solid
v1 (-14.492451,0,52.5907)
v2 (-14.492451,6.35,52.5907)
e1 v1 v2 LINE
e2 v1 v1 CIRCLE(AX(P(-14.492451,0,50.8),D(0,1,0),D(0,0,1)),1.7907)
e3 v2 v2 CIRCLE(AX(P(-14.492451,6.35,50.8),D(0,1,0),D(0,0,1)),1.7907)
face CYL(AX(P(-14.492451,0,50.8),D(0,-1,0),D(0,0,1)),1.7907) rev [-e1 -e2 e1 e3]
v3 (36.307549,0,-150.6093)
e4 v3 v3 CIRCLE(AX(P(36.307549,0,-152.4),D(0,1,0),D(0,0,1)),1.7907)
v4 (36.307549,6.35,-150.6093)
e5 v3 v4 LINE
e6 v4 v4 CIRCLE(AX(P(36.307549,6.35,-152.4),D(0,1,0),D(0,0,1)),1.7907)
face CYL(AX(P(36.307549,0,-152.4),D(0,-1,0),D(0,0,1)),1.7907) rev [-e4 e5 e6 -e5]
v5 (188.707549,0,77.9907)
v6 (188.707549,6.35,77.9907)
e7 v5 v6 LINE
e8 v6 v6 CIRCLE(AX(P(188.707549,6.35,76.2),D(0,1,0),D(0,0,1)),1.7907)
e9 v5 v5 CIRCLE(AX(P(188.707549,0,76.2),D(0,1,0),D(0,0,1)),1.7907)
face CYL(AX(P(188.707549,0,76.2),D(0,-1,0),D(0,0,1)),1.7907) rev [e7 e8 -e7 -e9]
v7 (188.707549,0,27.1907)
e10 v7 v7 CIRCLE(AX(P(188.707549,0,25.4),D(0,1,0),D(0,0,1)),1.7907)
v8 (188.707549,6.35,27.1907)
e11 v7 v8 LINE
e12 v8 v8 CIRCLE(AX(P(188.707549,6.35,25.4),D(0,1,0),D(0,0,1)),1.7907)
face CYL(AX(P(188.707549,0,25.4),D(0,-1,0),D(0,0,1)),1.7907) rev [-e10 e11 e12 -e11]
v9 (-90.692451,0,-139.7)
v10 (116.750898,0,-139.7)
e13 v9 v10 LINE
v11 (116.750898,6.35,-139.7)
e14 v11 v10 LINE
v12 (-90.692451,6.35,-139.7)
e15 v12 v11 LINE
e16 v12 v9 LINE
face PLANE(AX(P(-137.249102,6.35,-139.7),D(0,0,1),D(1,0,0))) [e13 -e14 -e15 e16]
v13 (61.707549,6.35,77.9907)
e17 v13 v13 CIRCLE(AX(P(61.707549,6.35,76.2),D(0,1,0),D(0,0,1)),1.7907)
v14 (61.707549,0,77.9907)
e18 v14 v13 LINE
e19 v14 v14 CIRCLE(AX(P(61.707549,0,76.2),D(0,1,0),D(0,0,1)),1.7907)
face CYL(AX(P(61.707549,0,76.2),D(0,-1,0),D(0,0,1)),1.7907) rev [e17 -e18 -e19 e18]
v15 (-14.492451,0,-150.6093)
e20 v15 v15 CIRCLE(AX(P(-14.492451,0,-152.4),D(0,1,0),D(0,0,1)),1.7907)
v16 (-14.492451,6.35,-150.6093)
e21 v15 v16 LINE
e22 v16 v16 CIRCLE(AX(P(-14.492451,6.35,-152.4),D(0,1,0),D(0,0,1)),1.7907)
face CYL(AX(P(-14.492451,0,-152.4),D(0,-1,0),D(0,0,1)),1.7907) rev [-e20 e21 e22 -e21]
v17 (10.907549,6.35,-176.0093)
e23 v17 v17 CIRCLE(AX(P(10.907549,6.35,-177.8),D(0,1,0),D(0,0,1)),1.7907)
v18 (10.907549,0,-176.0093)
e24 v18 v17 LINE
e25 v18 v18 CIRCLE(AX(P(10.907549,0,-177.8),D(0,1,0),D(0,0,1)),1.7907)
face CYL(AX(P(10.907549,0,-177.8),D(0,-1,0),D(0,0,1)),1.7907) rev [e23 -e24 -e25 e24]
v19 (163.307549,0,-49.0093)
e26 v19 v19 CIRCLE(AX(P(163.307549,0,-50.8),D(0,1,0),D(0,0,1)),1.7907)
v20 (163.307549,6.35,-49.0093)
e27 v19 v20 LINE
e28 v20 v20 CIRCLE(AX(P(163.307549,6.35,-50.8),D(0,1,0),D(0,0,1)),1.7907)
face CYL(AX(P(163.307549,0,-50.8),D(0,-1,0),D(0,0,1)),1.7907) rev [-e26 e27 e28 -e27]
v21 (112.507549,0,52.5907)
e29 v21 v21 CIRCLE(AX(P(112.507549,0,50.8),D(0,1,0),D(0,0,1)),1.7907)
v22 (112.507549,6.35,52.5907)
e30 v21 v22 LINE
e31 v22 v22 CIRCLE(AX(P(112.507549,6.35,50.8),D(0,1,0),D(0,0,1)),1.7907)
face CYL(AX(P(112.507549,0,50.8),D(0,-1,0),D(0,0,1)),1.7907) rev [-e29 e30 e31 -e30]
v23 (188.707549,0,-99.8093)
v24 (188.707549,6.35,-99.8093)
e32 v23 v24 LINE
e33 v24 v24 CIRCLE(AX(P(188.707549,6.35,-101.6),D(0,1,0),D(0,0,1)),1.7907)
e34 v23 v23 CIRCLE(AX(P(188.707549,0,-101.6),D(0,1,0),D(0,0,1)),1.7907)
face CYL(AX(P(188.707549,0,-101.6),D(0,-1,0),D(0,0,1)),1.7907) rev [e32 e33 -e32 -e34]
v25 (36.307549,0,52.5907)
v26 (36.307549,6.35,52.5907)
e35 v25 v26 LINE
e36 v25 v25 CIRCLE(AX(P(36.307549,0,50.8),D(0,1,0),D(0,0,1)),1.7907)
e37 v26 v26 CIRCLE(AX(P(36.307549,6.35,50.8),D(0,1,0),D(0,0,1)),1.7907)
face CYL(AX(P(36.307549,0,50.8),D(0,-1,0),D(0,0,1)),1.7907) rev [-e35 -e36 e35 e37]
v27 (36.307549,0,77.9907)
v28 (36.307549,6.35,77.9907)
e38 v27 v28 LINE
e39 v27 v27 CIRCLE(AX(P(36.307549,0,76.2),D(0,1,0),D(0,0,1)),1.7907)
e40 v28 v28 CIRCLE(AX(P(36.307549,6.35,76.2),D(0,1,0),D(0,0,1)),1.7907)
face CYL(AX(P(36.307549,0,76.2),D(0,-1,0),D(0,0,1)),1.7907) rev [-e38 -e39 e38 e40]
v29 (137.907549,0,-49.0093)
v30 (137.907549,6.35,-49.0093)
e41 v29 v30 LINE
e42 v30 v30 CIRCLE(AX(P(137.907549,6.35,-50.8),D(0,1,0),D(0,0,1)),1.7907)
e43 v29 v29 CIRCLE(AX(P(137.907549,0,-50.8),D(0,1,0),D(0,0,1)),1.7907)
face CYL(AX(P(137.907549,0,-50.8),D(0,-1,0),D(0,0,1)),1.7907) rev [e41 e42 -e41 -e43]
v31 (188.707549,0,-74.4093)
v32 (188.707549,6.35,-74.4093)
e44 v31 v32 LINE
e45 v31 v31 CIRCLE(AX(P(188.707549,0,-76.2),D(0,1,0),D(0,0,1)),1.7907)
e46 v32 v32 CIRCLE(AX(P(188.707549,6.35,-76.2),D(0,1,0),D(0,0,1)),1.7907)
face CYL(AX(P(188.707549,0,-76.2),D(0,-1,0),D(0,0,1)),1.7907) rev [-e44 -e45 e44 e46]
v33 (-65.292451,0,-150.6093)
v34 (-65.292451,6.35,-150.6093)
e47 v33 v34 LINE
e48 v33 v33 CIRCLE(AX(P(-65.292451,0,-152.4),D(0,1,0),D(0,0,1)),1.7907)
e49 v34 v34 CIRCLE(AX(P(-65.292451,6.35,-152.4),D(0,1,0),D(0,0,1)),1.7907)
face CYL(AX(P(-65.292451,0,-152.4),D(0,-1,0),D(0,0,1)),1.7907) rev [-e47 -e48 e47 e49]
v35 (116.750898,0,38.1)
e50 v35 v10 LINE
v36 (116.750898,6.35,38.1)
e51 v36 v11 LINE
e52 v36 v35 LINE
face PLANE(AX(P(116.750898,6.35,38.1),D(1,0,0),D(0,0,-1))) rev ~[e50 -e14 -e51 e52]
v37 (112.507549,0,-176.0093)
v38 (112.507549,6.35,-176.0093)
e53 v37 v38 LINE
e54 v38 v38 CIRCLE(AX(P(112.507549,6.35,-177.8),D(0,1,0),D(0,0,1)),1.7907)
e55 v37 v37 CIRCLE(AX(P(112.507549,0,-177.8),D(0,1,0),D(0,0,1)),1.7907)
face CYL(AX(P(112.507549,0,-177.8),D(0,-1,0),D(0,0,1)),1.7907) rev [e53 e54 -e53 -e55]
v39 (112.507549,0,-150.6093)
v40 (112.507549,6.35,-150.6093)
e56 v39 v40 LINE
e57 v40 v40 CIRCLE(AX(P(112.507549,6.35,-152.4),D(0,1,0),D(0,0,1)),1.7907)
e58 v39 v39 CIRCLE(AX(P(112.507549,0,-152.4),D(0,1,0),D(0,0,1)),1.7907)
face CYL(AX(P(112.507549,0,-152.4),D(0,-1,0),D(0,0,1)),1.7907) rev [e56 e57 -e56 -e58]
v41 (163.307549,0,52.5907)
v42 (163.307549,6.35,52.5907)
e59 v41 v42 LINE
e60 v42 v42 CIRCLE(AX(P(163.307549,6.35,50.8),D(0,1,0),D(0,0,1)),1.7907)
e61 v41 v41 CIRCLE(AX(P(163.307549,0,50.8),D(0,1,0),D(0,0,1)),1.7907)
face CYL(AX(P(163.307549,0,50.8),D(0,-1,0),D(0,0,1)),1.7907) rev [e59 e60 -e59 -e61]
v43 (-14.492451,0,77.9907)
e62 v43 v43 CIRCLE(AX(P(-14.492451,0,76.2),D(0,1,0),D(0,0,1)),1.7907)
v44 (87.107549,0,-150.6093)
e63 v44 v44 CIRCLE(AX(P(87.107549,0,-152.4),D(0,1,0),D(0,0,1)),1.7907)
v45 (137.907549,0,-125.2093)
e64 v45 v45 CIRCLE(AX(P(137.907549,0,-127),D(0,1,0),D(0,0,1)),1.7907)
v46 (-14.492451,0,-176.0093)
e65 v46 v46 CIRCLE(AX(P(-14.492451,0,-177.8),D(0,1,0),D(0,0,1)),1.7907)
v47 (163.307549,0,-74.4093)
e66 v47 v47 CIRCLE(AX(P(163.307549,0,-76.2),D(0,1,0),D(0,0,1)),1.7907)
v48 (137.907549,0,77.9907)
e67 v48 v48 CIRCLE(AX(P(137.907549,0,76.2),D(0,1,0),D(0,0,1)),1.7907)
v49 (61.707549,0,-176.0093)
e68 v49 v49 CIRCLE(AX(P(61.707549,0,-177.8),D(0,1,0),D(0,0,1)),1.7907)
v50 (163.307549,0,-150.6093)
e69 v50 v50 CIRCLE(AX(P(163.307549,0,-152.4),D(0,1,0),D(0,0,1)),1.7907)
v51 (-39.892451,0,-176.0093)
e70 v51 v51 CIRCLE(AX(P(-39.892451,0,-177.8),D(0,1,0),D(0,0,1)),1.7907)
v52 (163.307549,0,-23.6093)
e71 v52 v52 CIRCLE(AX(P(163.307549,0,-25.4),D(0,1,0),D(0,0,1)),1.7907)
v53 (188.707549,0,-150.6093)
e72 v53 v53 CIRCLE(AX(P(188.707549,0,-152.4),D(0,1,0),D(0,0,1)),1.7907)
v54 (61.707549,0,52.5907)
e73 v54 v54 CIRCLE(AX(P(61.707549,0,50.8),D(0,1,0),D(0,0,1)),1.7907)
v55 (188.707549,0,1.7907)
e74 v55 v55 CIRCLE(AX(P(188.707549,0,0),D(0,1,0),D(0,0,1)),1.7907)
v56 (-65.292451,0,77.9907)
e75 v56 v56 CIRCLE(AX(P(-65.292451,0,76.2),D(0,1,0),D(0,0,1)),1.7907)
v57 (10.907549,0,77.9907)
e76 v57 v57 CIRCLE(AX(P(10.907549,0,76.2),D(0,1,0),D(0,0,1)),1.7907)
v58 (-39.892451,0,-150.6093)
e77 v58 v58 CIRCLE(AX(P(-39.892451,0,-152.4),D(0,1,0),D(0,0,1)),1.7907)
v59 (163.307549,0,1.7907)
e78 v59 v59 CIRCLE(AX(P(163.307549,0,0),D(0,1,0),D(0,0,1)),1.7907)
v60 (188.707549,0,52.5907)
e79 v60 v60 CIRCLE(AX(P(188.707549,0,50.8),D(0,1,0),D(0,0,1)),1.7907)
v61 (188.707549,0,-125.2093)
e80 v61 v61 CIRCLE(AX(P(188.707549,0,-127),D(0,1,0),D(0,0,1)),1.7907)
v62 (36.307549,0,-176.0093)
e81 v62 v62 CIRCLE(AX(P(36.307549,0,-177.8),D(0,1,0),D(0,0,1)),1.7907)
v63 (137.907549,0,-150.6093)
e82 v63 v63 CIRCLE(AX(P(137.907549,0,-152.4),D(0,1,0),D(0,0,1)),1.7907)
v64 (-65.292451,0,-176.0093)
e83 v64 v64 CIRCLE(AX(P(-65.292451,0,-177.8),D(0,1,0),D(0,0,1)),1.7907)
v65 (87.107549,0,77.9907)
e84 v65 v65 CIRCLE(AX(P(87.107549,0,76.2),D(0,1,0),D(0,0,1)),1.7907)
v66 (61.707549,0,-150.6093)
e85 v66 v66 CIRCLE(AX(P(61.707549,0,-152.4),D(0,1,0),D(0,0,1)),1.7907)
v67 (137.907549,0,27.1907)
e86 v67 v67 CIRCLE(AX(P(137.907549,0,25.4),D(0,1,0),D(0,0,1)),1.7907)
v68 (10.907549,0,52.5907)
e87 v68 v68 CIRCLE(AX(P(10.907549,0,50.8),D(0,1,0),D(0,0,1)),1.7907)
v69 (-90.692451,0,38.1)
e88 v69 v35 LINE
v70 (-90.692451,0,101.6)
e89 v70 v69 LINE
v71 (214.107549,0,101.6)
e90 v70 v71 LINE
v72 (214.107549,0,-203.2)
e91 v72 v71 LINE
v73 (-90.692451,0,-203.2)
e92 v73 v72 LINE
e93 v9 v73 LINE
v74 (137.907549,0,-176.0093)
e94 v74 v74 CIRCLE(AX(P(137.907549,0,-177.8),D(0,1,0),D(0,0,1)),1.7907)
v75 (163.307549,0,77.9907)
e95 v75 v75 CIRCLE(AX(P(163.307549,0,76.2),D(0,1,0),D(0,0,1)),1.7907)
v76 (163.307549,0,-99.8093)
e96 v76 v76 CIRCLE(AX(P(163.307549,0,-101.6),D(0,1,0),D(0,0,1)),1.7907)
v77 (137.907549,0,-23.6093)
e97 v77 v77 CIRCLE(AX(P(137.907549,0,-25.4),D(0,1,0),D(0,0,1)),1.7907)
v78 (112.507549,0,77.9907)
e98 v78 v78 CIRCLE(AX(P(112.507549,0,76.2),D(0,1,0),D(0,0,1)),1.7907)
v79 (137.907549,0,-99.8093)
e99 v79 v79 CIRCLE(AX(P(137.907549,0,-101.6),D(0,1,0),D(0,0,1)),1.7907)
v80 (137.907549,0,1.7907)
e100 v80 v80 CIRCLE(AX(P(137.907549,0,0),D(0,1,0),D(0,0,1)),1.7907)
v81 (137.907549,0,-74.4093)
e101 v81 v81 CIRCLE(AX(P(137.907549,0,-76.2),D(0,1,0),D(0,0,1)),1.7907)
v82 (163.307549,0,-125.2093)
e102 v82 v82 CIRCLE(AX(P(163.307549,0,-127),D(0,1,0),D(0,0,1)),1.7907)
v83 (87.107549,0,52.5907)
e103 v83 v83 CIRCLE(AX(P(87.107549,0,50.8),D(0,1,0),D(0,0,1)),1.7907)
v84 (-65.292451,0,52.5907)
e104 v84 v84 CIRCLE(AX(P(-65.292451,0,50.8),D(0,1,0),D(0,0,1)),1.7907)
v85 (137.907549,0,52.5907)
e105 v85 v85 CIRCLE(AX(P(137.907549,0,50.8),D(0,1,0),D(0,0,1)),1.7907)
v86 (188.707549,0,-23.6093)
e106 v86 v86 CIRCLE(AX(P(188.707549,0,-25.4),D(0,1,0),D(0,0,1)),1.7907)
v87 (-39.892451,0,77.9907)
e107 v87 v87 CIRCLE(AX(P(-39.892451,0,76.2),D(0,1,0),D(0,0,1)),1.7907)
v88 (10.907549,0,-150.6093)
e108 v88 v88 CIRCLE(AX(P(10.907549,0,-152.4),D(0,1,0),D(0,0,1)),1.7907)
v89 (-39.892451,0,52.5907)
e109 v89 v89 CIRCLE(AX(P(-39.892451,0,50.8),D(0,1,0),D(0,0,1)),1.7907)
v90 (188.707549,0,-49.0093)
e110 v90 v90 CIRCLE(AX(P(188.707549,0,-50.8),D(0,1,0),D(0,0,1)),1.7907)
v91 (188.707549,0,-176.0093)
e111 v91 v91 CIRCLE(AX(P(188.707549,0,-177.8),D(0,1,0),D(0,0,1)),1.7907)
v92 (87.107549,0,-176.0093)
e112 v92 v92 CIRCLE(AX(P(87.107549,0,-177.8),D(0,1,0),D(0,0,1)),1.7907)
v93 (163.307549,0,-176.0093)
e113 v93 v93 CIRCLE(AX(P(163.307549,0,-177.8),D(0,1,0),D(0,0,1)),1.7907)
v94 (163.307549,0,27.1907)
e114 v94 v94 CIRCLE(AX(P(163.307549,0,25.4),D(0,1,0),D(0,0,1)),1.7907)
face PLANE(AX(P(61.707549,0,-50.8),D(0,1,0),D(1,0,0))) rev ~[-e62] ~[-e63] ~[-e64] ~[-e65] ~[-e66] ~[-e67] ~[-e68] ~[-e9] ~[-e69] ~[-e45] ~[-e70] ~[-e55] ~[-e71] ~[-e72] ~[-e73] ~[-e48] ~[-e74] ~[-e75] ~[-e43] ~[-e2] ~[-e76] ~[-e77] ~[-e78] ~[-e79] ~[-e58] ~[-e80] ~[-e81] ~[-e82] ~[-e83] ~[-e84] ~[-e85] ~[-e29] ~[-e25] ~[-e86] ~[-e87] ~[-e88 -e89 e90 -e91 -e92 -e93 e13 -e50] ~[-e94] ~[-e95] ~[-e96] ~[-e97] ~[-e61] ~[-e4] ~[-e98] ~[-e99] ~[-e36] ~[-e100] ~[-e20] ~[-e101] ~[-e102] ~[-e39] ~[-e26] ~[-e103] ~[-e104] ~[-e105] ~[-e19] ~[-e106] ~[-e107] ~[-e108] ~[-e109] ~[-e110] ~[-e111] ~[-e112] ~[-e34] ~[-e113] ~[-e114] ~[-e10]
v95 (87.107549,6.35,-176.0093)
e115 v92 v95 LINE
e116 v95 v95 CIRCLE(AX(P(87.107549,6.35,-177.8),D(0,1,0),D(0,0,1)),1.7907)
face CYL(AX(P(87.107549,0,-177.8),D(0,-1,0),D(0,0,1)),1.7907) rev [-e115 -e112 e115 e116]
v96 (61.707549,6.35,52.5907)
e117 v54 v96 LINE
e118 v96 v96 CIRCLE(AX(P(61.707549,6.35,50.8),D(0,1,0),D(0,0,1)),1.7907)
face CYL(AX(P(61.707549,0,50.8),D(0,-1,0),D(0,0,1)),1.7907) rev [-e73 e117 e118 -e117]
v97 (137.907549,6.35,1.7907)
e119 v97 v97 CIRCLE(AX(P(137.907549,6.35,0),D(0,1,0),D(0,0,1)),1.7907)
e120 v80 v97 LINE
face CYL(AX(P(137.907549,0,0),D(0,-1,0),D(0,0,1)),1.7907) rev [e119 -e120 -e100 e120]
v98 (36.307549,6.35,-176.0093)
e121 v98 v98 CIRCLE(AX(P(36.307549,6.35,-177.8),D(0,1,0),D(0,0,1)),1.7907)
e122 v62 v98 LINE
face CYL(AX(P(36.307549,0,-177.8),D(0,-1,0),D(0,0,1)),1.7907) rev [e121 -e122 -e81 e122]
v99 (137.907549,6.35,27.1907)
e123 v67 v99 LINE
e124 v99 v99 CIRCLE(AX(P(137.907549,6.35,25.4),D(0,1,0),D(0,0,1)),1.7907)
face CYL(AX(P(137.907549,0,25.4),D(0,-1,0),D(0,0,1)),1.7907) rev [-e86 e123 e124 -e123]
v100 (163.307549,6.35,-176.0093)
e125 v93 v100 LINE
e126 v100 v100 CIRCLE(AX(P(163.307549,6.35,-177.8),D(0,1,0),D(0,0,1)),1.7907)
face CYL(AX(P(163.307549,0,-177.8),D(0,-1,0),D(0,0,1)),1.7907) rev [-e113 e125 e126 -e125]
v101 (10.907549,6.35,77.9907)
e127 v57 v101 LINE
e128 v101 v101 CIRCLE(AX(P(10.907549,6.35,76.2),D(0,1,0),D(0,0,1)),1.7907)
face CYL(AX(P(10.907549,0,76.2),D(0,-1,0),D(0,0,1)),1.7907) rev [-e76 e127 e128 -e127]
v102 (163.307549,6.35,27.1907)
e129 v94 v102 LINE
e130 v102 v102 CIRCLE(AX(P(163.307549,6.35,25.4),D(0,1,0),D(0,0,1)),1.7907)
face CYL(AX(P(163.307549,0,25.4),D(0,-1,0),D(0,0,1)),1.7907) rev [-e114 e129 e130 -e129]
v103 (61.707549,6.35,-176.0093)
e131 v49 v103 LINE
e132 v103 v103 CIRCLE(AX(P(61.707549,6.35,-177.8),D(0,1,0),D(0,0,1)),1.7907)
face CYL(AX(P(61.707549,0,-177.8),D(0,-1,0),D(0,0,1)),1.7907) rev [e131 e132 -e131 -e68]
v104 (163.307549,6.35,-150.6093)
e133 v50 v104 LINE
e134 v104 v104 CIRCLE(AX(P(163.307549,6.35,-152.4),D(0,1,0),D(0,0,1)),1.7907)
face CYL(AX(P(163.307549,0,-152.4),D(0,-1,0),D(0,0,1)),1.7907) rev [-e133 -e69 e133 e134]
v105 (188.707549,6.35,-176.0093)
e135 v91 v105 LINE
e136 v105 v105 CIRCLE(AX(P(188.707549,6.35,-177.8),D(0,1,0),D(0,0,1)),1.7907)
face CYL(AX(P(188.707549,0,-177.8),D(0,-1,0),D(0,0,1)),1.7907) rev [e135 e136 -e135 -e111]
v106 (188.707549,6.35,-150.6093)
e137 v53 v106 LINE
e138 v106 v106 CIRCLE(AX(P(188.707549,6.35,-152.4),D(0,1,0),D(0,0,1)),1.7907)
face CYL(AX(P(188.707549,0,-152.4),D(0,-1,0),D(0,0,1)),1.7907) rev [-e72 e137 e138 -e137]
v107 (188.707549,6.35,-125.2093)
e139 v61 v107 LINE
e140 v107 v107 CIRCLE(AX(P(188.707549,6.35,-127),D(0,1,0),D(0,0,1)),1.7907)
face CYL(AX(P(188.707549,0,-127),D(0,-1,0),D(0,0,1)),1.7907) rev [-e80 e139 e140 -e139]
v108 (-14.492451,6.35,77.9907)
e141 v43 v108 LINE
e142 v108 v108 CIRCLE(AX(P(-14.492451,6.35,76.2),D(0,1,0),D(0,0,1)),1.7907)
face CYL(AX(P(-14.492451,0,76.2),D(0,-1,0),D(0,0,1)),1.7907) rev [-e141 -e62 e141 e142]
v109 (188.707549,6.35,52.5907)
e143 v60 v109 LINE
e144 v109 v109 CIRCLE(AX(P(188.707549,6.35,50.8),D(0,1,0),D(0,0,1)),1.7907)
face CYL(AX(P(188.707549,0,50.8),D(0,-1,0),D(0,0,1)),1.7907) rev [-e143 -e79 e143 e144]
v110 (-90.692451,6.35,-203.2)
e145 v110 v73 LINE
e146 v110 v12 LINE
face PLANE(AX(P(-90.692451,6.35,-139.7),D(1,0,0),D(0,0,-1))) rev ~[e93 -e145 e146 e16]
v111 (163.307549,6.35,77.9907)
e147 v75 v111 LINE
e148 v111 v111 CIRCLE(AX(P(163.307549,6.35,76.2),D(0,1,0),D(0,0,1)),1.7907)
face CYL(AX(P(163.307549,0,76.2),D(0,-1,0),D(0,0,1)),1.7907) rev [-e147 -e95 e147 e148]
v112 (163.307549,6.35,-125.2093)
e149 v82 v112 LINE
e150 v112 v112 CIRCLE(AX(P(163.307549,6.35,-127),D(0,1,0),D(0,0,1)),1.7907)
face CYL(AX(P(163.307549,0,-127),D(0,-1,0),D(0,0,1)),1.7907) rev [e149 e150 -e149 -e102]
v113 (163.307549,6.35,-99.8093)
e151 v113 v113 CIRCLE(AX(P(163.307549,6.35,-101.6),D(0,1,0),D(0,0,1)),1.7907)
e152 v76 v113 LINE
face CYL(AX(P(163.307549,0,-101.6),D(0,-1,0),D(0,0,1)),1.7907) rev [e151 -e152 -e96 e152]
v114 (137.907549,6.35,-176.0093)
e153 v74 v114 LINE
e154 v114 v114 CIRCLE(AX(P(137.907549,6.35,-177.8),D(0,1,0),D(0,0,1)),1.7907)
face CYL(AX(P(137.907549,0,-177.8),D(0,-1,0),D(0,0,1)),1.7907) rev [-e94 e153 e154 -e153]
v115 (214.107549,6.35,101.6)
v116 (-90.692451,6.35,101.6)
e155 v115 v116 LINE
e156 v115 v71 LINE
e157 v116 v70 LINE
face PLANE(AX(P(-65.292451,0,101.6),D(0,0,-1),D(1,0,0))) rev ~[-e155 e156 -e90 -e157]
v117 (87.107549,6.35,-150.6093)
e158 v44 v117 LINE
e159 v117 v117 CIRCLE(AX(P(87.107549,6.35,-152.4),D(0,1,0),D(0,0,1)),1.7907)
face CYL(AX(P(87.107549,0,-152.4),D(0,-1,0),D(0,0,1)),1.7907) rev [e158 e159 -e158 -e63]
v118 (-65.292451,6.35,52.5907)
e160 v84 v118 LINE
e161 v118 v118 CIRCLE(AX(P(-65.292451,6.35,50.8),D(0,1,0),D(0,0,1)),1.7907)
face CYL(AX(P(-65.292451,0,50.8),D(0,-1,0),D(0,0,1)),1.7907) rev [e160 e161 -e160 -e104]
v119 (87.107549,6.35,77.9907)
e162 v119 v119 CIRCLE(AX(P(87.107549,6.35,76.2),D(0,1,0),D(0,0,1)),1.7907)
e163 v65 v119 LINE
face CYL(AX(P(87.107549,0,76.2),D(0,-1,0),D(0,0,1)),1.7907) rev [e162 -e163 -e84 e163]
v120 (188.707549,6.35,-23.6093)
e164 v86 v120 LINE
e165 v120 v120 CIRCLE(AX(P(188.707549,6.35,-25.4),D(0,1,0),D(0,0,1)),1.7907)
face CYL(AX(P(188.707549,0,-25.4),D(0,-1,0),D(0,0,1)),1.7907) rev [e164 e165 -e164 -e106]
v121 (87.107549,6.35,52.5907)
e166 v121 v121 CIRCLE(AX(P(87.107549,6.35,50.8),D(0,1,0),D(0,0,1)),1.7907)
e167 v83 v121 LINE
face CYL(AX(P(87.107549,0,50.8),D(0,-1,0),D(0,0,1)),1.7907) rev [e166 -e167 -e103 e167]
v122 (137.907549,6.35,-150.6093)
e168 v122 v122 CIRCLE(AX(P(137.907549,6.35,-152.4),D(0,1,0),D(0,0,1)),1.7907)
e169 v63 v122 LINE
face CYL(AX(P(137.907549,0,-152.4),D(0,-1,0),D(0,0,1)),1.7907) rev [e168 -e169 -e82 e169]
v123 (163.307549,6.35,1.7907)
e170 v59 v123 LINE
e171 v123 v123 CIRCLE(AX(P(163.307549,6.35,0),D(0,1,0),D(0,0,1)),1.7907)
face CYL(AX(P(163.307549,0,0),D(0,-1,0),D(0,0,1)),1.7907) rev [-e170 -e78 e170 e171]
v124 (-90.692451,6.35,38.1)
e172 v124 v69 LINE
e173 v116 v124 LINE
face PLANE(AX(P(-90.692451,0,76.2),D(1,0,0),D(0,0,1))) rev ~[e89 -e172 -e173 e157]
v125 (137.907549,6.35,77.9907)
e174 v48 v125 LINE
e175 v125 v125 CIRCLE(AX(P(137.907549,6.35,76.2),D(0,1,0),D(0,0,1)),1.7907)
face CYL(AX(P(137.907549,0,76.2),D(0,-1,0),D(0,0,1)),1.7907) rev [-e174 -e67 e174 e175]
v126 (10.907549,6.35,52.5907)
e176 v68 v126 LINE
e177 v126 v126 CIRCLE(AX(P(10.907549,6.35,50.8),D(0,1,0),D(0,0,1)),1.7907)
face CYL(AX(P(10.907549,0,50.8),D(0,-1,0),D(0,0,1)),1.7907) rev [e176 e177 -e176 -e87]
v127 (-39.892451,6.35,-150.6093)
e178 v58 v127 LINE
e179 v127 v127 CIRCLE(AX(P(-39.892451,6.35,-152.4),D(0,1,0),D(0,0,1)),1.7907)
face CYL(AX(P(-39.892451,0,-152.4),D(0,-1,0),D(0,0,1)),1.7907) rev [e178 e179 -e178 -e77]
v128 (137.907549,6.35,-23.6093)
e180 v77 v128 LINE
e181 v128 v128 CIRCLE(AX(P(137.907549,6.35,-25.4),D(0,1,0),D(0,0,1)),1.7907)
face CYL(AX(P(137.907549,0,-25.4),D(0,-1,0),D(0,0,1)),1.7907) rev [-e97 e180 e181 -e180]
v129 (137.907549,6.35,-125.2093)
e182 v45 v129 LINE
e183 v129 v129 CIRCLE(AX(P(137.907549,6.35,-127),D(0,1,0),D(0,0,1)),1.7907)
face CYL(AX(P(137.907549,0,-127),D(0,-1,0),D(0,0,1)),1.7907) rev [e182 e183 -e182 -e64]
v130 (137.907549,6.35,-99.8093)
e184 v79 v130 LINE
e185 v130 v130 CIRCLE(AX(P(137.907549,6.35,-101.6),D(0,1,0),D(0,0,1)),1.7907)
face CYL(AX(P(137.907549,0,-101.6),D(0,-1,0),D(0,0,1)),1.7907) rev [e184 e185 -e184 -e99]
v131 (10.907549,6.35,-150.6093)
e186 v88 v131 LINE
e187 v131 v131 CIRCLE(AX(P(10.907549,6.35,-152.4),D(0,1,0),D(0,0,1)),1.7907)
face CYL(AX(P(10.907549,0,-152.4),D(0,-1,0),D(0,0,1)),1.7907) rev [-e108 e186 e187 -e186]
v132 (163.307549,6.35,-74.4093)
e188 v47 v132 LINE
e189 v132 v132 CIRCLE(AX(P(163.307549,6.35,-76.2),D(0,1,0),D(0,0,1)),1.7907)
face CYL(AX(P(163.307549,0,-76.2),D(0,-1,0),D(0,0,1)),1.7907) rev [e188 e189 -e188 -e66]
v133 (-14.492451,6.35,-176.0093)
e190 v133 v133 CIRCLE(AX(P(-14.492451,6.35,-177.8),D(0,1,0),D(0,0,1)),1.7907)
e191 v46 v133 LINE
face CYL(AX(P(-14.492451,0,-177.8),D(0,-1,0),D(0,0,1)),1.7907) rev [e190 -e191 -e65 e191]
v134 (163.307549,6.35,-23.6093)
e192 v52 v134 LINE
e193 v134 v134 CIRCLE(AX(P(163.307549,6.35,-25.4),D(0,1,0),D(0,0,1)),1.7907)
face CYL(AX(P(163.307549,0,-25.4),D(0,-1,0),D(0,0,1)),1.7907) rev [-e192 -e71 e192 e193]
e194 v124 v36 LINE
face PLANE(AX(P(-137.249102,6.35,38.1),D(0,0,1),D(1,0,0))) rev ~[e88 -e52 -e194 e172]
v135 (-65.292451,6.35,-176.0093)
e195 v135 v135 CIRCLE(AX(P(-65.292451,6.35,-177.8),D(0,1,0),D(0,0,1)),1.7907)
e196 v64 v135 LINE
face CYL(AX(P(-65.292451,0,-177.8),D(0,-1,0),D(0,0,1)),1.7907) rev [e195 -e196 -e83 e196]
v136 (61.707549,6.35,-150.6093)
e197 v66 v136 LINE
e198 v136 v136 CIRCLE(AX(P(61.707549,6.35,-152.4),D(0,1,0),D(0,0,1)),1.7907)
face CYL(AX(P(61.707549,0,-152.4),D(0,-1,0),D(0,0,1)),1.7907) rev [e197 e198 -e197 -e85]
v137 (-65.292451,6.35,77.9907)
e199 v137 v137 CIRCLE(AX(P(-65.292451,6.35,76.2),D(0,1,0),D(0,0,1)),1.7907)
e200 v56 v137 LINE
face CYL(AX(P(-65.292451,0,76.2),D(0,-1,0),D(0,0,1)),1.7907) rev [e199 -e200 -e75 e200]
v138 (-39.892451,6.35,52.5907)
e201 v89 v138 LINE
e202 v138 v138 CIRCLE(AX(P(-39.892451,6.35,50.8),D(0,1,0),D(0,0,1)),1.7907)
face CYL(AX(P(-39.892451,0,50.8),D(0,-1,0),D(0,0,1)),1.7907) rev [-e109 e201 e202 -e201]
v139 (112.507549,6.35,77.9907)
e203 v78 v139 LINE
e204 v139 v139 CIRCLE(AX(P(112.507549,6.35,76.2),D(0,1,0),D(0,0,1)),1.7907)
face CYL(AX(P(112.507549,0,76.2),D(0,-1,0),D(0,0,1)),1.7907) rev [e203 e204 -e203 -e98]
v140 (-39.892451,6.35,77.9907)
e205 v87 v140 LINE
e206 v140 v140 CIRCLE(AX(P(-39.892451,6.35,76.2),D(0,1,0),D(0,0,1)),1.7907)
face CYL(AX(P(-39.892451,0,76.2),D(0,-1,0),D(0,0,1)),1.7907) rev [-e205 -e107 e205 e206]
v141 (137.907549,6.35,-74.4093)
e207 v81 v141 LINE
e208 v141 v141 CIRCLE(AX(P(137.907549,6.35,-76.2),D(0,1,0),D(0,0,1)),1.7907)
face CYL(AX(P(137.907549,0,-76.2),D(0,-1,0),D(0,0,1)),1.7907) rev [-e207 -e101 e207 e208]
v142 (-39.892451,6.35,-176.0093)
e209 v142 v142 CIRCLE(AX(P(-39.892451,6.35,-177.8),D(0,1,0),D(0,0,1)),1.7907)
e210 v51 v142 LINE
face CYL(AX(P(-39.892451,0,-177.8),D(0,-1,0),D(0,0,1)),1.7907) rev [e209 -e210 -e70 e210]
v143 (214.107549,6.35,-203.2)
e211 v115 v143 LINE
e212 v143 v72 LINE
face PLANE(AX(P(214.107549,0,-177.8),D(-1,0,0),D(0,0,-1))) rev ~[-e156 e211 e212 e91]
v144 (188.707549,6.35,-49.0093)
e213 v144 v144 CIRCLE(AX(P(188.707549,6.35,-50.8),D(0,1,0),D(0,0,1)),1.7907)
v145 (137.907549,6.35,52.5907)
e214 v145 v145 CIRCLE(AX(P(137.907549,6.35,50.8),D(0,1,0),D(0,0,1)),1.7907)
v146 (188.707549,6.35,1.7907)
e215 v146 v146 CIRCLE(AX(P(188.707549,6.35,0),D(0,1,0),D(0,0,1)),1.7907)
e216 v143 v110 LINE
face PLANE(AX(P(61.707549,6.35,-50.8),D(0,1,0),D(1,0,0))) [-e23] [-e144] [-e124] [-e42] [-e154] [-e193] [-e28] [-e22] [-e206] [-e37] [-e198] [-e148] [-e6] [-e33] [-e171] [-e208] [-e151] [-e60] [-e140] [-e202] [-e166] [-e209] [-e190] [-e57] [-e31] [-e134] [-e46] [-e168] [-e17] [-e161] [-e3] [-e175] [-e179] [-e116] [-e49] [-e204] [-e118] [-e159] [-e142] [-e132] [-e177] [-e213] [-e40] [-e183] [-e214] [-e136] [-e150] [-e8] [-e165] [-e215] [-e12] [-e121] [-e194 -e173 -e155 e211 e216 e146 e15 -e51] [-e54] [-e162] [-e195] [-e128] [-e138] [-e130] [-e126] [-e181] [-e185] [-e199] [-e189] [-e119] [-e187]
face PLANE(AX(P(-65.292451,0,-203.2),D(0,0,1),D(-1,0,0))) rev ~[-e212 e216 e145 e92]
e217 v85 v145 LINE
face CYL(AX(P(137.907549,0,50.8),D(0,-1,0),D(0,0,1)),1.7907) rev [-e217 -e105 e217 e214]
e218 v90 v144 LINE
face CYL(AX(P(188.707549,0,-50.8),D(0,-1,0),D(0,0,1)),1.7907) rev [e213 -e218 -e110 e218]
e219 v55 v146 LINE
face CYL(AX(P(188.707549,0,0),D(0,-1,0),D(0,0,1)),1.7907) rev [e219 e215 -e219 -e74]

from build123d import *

# Parameters (mm, degrees)
SKETCH1_R           = 1.7907
BOSS_EXTRUDE1_DEPTH = 6.35
SKETCH2_W           = 254
SKETCH2_H           = 177.8
SKETCH2_W_2         = 311.15
SKETCH2_H_2         = 6.35
SKETCH2_W_3         = 6.35
SKETCH2_H_3         = 279.4
SKETCH2_W_4         = 279.4
CUT_EXTRUDE2_DEPTH  = 305.225337561
SKETCH3_W           = 6.35
SKETCH3_H           = 63.5
SKETCH3_H_2         = 25.4
CUT_EXTRUDE3_DEPTH  = 296.250072208


with BuildPart() as part:
    # Sketch1 → Boss-Extrude1 (new body)
    with BuildSketch(Plane(origin=(0, 0, 0), x_dir=(1, 0, 0), z_dir=(0, 1, 0))):
        Polygon((-65.292450766, -101.6), (-39.892450766, -101.6), (-39.892450766, -107.95), (-14.492450766, -107.95), (-14.492450766, -101.6), (10.907549234, -101.6), (10.907549234, -107.95), (36.307549234, -107.95), (36.307549234, -101.6), (61.707549234, -101.6), (61.707549234, -107.95), (87.107549234, -107.95), (87.107549234, -101.6), (112.507549234, -101.6), (112.507549234, -107.95), (137.907549234, -107.95), (137.907549234, -101.6), (163.307549234, -101.6), (163.307549234, -107.95), (188.707549234, -107.95), (188.707549234, -101.6), (220.457549234, -101.6), (220.457549234, -76.2), (214.107549234, -76.2), (214.107549234, -50.8), (220.457549234, -50.8), (220.457549234, -25.4), (214.107549234, -25.4), (214.107549234, 0), (220.457549234, 0), (220.457549234, 25.4), (214.107549234, 25.4), (214.107549234, 50.8), (220.457549234, 50.8), (220.457549234, 76.2), (214.107549234, 76.2), (214.107549234, 101.6), (220.457549234, 101.6), (220.457549234, 127), (214.107549234, 127), (214.107549234, 152.4), (220.457549234, 152.4), (220.457549234, 177.8), (214.107549234, 177.8), (214.107549234, 209.55), (188.707549234, 209.55), (188.707549234, 203.2), (163.307549234, 203.2), (163.307549234, 209.55), (137.907549234, 209.55), (137.907549234, 203.2), (112.507549234, 203.2), (112.507549234, 209.55), (87.107549234, 209.55), (87.107549234, 203.2), (61.707549234, 203.2), (61.707549234, 209.55), (36.307549234, 209.55), (36.307549234, 203.2), (10.907549234, 203.2), (10.907549234, 209.55), (-14.492450766, 209.55), (-14.492450766, 203.2), (-39.892450766, 203.2), (-39.892450766, 209.55), (-65.292450766, 209.55), (-65.292450766, 203.2), (-97.042450766, 203.2), (-97.042450766, 177.8), (-90.692450766, 177.8), (-90.692450766, 152.4), (-97.042450766, 152.4), (-97.042450766, 127), (-90.692450766, 127), (-90.692450766, 101.6), (-97.042450766, 101.6), (-97.042450766, 76.2), (-90.692450766, 76.2), (-90.692450766, 50.8), (-97.042450766, 50.8), (-97.042450766, 25.4), (-90.692450766, 25.4), (-90.692450766, 0), (-97.042450766, 0), (-97.042450766, -25.4), (-90.692450766, -25.4), (-90.692450766, -50.8), (-97.042450766, -50.8), (-97.042450766, -76.2), (-90.692450766, -76.2), (-90.692450766, -107.95), (-65.292450766, -107.95), align=None)
        with Locations(Location((-65.292450766, -76.2, 0), (0, 0, 270))):
            Circle(SKETCH1_R, mode=Mode.SUBTRACT)
        with Locations(Location((-39.892450766, -76.2, 0), (0, 0, 270))):
            Circle(SKETCH1_R, mode=Mode.SUBTRACT)
        with Locations(Location((-14.492450766, -76.2, 0), (0, 0, 270))):
            Circle(SKETCH1_R, mode=Mode.SUBTRACT)
        with Locations(Location((10.907549234, -76.2, 0), (0, 0, 270))):
            Circle(SKETCH1_R, mode=Mode.SUBTRACT)
        with Locations(Location((36.307549234, -76.2, 0), (0, 0, 270))):
            Circle(SKETCH1_R, mode=Mode.SUBTRACT)
        with Locations(Location((61.707549234, -76.2, 0), (0, 0, 270))):
            Circle(SKETCH1_R, mode=Mode.SUBTRACT)
        with Locations(Location((87.107549234, -76.2, 0), (0, 0, 270))):
            Circle(SKETCH1_R, mode=Mode.SUBTRACT)
        with Locations(Location((112.507549234, -76.2, 0), (0, 0, 270))):
            Circle(SKETCH1_R, mode=Mode.SUBTRACT)
        with Locations(Location((137.907549234, -76.2, 0), (0, 0, 270))):
            Circle(SKETCH1_R, mode=Mode.SUBTRACT)
        with Locations(Location((163.307549234, -76.2, 0), (0, 0, 270))):
            Circle(SKETCH1_R, mode=Mode.SUBTRACT)
        with Locations(Location((188.707549234, -76.2, 0), (0, 0, 270))):
            Circle(SKETCH1_R, mode=Mode.SUBTRACT)
        with Locations(Location((-65.292450766, -50.8, 0), (0, 0, 270))):
            Circle(SKETCH1_R, mode=Mode.SUBTRACT)
        with Locations(Location((-65.292450766, -25.4, 0), (0, 0, 270))):
            Circle(SKETCH1_R, mode=Mode.SUBTRACT)
        with Locations(Location((-65.292450766, 0, 0), (0, 0, 270))):
            Circle(SKETCH1_R, mode=Mode.SUBTRACT)
        with Locations(Location((-65.292450766, 25.4, 0), (0, 0, 270))):
            Circle(SKETCH1_R, mode=Mode.SUBTRACT)
        with Locations(Location((-65.292450766, 50.8, 0), (0, 0, 270))):
            Circle(SKETCH1_R, mode=Mode.SUBTRACT)
        with Locations(Location((-65.292450766, 76.2, 0), (0, 0, 270))):
            Circle(SKETCH1_R, mode=Mode.SUBTRACT)
        with Locations(Location((-65.292450766, 101.6, 0), (0, 0, 270))):
            Circle(SKETCH1_R, mode=Mode.SUBTRACT)
        with Locations(Location((-65.292450766, 127, 0), (0, 0, 270))):
            Circle(SKETCH1_R, mode=Mode.SUBTRACT)
        with Locations(Location((-65.292450766, 152.4, 0), (0, 0, 270))):
            Circle(SKETCH1_R, mode=Mode.SUBTRACT)
        with Locations(Location((-65.292450766, 177.8, 0), (0, 0, 270))):
            Circle(SKETCH1_R, mode=Mode.SUBTRACT)
        with Locations(Location((-39.892450766, -50.8, 0), (0, 0, 270))):
            Circle(SKETCH1_R, mode=Mode.SUBTRACT)
        with Locations(Location((-14.492450766, -50.8, 0), (0, 0, 270))):
            Circle(SKETCH1_R, mode=Mode.SUBTRACT)
        with Locations(Location((10.907549234, -50.8, 0), (0, 0, 270))):
            Circle(SKETCH1_R, mode=Mode.SUBTRACT)
        with Locations(Location((36.307549234, -50.8, 0), (0, 0, 270))):
            Circle(SKETCH1_R, mode=Mode.SUBTRACT)
        with Locations(Location((61.707549234, -50.8, 0), (0, 0, 270))):
            Circle(SKETCH1_R, mode=Mode.SUBTRACT)
        with Locations(Location((87.107549234, -50.8, 0), (0, 0, 270))):
            Circle(SKETCH1_R, mode=Mode.SUBTRACT)
        with Locations(Location((112.507549234, -50.8, 0), (0, 0, 270))):
            Circle(SKETCH1_R, mode=Mode.SUBTRACT)
        with Locations(Location((137.907549234, -50.8, 0), (0, 0, 270))):
            Circle(SKETCH1_R, mode=Mode.SUBTRACT)
        with Locations(Location((163.307549234, -50.8, 0), (0, 0, 270))):
            Circle(SKETCH1_R, mode=Mode.SUBTRACT)
        with Locations(Location((188.707549234, -50.8, 0), (0, 0, 270))):
            Circle(SKETCH1_R, mode=Mode.SUBTRACT)
        with Locations(Location((-39.892450766, -25.4, 0), (0, 0, 270))):
            Circle(SKETCH1_R, mode=Mode.SUBTRACT)
        with Locations(Location((-14.492450766, -25.4, 0), (0, 0, 270))):
            Circle(SKETCH1_R, mode=Mode.SUBTRACT)
        with Locations(Location((10.907549234, -25.4, 0), (0, 0, 270))):
            Circle(SKETCH1_R, mode=Mode.SUBTRACT)
        with Locations(Location((36.307549234, -25.4, 0), (0, 0, 270))):
            Circle(SKETCH1_R, mode=Mode.SUBTRACT)
        with Locations(Location((61.707549234, -25.4, 0), (0, 0, 270))):
            Circle(SKETCH1_R, mode=Mode.SUBTRACT)
        with Locations(Location((87.107549234, -25.4, 0), (0, 0, 270))):
            Circle(SKETCH1_R, mode=Mode.SUBTRACT)
        with Locations(Location((112.507549234, -25.4, 0), (0, 0, 270))):
            Circle(SKETCH1_R, mode=Mode.SUBTRACT)
        with Locations(Location((137.907549234, -25.4, 0), (0, 0, 270))):
            Circle(SKETCH1_R, mode=Mode.SUBTRACT)
        with Locations(Location((163.307549234, -25.4, 0), (0, 0, 270))):
            Circle(SKETCH1_R, mode=Mode.SUBTRACT)
        with Locations(Location((188.707549234, -25.4, 0), (0, 0, 270))):
            Circle(SKETCH1_R, mode=Mode.SUBTRACT)
        with Locations(Location((-39.892450766, 0, 0), (0, 0, 270))):
            Circle(SKETCH1_R, mode=Mode.SUBTRACT)
        with Locations(Location((-14.492450766, 0, 0), (0, 0, 270))):
            Circle(SKETCH1_R, mode=Mode.SUBTRACT)
        with Locations(Location((10.907549234, 0, 0), (0, 0, 270))):
            Circle(SKETCH1_R, mode=Mode.SUBTRACT)
        with Locations(Location((36.307549234, 0, 0), (0, 0, 270))):
            Circle(SKETCH1_R, mode=Mode.SUBTRACT)
        with Locations(Location((61.707549234, 0, 0), (0, 0, 270))):
            Circle(SKETCH1_R, mode=Mode.SUBTRACT)
        with Locations(Location((87.107549234, 0, 0), (0, 0, 270))):
            Circle(SKETCH1_R, mode=Mode.SUBTRACT)
        with Locations(Location((112.507549234, 0, 0), (0, 0, 270))):
            Circle(SKETCH1_R, mode=Mode.SUBTRACT)
        with Locations(Location((137.907549234, 0, 0), (0, 0, 270))):
            Circle(SKETCH1_R, mode=Mode.SUBTRACT)
        with Locations(Location((163.307549234, 0, 0), (0, 0, 270))):
            Circle(SKETCH1_R, mode=Mode.SUBTRACT)
        with Locations(Location((188.707549234, 0, 0), (0, 0, 270))):
            Circle(SKETCH1_R, mode=Mode.SUBTRACT)
        with Locations(Location((-39.892450766, 25.4, 0), (0, 0, 270))):
            Circle(SKETCH1_R, mode=Mode.SUBTRACT)
        with Locations(Location((-14.492450766, 25.4, 0), (0, 0, 270))):
            Circle(SKETCH1_R, mode=Mode.SUBTRACT)
        with Locations(Location((10.907549234, 25.4, 0), (0, 0, 270))):
            Circle(SKETCH1_R, mode=Mode.SUBTRACT)
        with Locations(Location((36.307549234, 25.4, 0), (0, 0, 270))):
            Circle(SKETCH1_R, mode=Mode.SUBTRACT)
        with Locations(Location((61.707549234, 25.4, 0), (0, 0, 270))):
            Circle(SKETCH1_R, mode=Mode.SUBTRACT)
        with Locations(Location((87.107549234, 25.4, 0), (0, 0, 270))):
            Circle(SKETCH1_R, mode=Mode.SUBTRACT)
        with Locations(Location((112.507549234, 25.4, 0), (0, 0, 270))):
            Circle(SKETCH1_R, mode=Mode.SUBTRACT)
        with Locations(Location((137.907549234, 25.4, 0), (0, 0, 270))):
            Circle(SKETCH1_R, mode=Mode.SUBTRACT)
        with Locations(Location((163.307549234, 25.4, 0), (0, 0, 270))):
            Circle(SKETCH1_R, mode=Mode.SUBTRACT)
        with Locations(Location((188.707549234, 25.4, 0), (0, 0, 270))):
            Circle(SKETCH1_R, mode=Mode.SUBTRACT)
        with Locations(Location((-39.892450766, 50.8, 0), (0, 0, 270))):
            Circle(SKETCH1_R, mode=Mode.SUBTRACT)
        with Locations(Location((-14.492450766, 50.8, 0), (0, 0, 270))):
            Circle(SKETCH1_R, mode=Mode.SUBTRACT)
        with Locations(Location((10.907549234, 50.8, 0), (0, 0, 270))):
            Circle(SKETCH1_R, mode=Mode.SUBTRACT)
        with Locations(Location((36.307549234, 50.8, 0), (0, 0, 270))):
            Circle(SKETCH1_R, mode=Mode.SUBTRACT)
        with Locations(Location((61.707549234, 50.8, 0), (0, 0, 270))):
            Circle(SKETCH1_R, mode=Mode.SUBTRACT)
        with Locations(Location((87.107549234, 50.8, 0), (0, 0, 270))):
            Circle(SKETCH1_R, mode=Mode.SUBTRACT)
        with Locations(Location((112.507549234, 50.8, 0), (0, 0, 270))):
            Circle(SKETCH1_R, mode=Mode.SUBTRACT)
        with Locations(Location((137.907549234, 50.8, 0), (0, 0, 270))):
            Circle(SKETCH1_R, mode=Mode.SUBTRACT)
        with Locations(Location((163.307549234, 50.8, 0), (0, 0, 270))):
            Circle(SKETCH1_R, mode=Mode.SUBTRACT)
        with Locations(Location((188.707549234, 50.8, 0), (0, 0, 270))):
            Circle(SKETCH1_R, mode=Mode.SUBTRACT)
        with Locations(Location((-39.892450766, 76.2, 0), (0, 0, 270))):
            Circle(SKETCH1_R, mode=Mode.SUBTRACT)
        with Locations(Location((-14.492450766, 76.2, 0), (0, 0, 270))):
            Circle(SKETCH1_R, mode=Mode.SUBTRACT)
        with Locations(Location((10.907549234, 76.2, 0), (0, 0, 270))):
            Circle(SKETCH1_R, mode=Mode.SUBTRACT)
        with Locations(Location((36.307549234, 76.2, 0), (0, 0, 270))):
            Circle(SKETCH1_R, mode=Mode.SUBTRACT)
        with Locations(Location((61.707549234, 76.2, 0), (0, 0, 270))):
            Circle(SKETCH1_R, mode=Mode.SUBTRACT)
        with Locations(Location((87.107549234, 76.2, 0), (0, 0, 270))):
            Circle(SKETCH1_R, mode=Mode.SUBTRACT)
        with Locations(Location((112.507549234, 76.2, 0), (0, 0, 270))):
            Circle(SKETCH1_R, mode=Mode.SUBTRACT)
        with Locations(Location((137.907549234, 76.2, 0), (0, 0, 270))):
            Circle(SKETCH1_R, mode=Mode.SUBTRACT)
        with Locations(Location((163.307549234, 76.2, 0), (0, 0, 270))):
            Circle(SKETCH1_R, mode=Mode.SUBTRACT)
        with Locations(Location((188.707549234, 76.2, 0), (0, 0, 270))):
            Circle(SKETCH1_R, mode=Mode.SUBTRACT)
        with Locations(Location((-39.892450766, 101.6, 0), (0, 0, 270))):
            Circle(SKETCH1_R, mode=Mode.SUBTRACT)
        with Locations(Location((-14.492450766, 101.6, 0), (0, 0, 270))):
            Circle(SKETCH1_R, mode=Mode.SUBTRACT)
        with Locations(Location((10.907549234, 101.6, 0), (0, 0, 270))):
            Circle(SKETCH1_R, mode=Mode.SUBTRACT)
        with Locations(Location((36.307549234, 101.6, 0), (0, 0, 270))):
            Circle(SKETCH1_R, mode=Mode.SUBTRACT)
        with Locations(Location((61.707549234, 101.6, 0), (0, 0, 270))):
            Circle(SKETCH1_R, mode=Mode.SUBTRACT)
        with Locations(Location((87.107549234, 101.6, 0), (0, 0, 270))):
            Circle(SKETCH1_R, mode=Mode.SUBTRACT)
        with Locations(Location((112.507549234, 101.6, 0), (0, 0, 270))):
            Circle(SKETCH1_R, mode=Mode.SUBTRACT)
        with Locations(Location((137.907549234, 101.6, 0), (0, 0, 270))):
            Circle(SKETCH1_R, mode=Mode.SUBTRACT)
        with Locations(Location((163.307549234, 101.6, 0), (0, 0, 270))):
            Circle(SKETCH1_R, mode=Mode.SUBTRACT)
        with Locations(Location((188.707549234, 101.6, 0), (0, 0, 270))):
            Circle(SKETCH1_R, mode=Mode.SUBTRACT)
        with Locations(Location((-39.892450766, 127, 0), (0, 0, 270))):
            Circle(SKETCH1_R, mode=Mode.SUBTRACT)
        with Locations(Location((-14.492450766, 127, 0), (0, 0, 270))):
            Circle(SKETCH1_R, mode=Mode.SUBTRACT)
        with Locations(Location((10.907549234, 127, 0), (0, 0, 270))):
            Circle(SKETCH1_R, mode=Mode.SUBTRACT)
        with Locations(Location((36.307549234, 127, 0), (0, 0, 270))):
            Circle(SKETCH1_R, mode=Mode.SUBTRACT)
        with Locations(Location((61.707549234, 127, 0), (0, 0, 270))):
            Circle(SKETCH1_R, mode=Mode.SUBTRACT)
        with Locations(Location((87.107549234, 127, 0), (0, 0, 270))):
            Circle(SKETCH1_R, mode=Mode.SUBTRACT)
        with Locations(Location((112.507549234, 127, 0), (0, 0, 270))):
            Circle(SKETCH1_R, mode=Mode.SUBTRACT)
        with Locations(Location((137.907549234, 127, 0), (0, 0, 270))):
            Circle(SKETCH1_R, mode=Mode.SUBTRACT)
        with Locations(Location((163.307549234, 127, 0), (0, 0, 270))):
            Circle(SKETCH1_R, mode=Mode.SUBTRACT)
        with Locations(Location((188.707549234, 127, 0), (0, 0, 270))):
            Circle(SKETCH1_R, mode=Mode.SUBTRACT)
        with Locations(Location((-39.892450766, 152.4, 0), (0, 0, 270))):
            Circle(SKETCH1_R, mode=Mode.SUBTRACT)
        with Locations(Location((-14.492450766, 152.4, 0), (0, 0, 270))):
            Circle(SKETCH1_R, mode=Mode.SUBTRACT)
        with Locations(Location((10.907549234, 152.4, 0), (0, 0, 270))):
            Circle(SKETCH1_R, mode=Mode.SUBTRACT)
        with Locations(Location((36.307549234, 152.4, 0), (0, 0, 270))):
            Circle(SKETCH1_R, mode=Mode.SUBTRACT)
        with Locations(Location((61.707549234, 152.4, 0), (0, 0, 270))):
            Circle(SKETCH1_R, mode=Mode.SUBTRACT)
        with Locations(Location((87.107549234, 152.4, 0), (0, 0, 270))):
            Circle(SKETCH1_R, mode=Mode.SUBTRACT)
        with Locations(Location((112.507549234, 152.4, 0), (0, 0, 270))):
            Circle(SKETCH1_R, mode=Mode.SUBTRACT)
        with Locations(Location((137.907549234, 152.4, 0), (0, 0, 270))):
            Circle(SKETCH1_R, mode=Mode.SUBTRACT)
        with Locations(Location((163.307549234, 152.4, 0), (0, 0, 270))):
            Circle(SKETCH1_R, mode=Mode.SUBTRACT)
        with Locations(Location((188.707549234, 152.4, 0), (0, 0, 270))):
            Circle(SKETCH1_R, mode=Mode.SUBTRACT)
        with Locations(Location((-39.892450766, 177.8, 0), (0, 0, 270))):
            Circle(SKETCH1_R, mode=Mode.SUBTRACT)
        with Locations(Location((-14.492450766, 177.8, 0), (0, 0, 270))):
            Circle(SKETCH1_R, mode=Mode.SUBTRACT)
        with Locations(Location((10.907549234, 177.8, 0), (0, 0, 270))):
            Circle(SKETCH1_R, mode=Mode.SUBTRACT)
        with Locations(Location((36.307549234, 177.8, 0), (0, 0, 270))):
            Circle(SKETCH1_R, mode=Mode.SUBTRACT)
        with Locations(Location((61.707549234, 177.8, 0), (0, 0, 270))):
            Circle(SKETCH1_R, mode=Mode.SUBTRACT)
        with Locations(Location((87.107549234, 177.8, 0), (0, 0, 270))):
            Circle(SKETCH1_R, mode=Mode.SUBTRACT)
        with Locations(Location((112.507549234, 177.8, 0), (0, 0, 270))):
            Circle(SKETCH1_R, mode=Mode.SUBTRACT)
        with Locations(Location((137.907549234, 177.8, 0), (0, 0, 270))):
            Circle(SKETCH1_R, mode=Mode.SUBTRACT)
        with Locations(Location((163.307549234, 177.8, 0), (0, 0, 270))):
            Circle(SKETCH1_R, mode=Mode.SUBTRACT)
        with Locations(Location((188.707549234, 177.8, 0), (0, 0, 270))):
            Circle(SKETCH1_R, mode=Mode.SUBTRACT)
    extrude(amount=BOSS_EXTRUDE1_DEPTH)

    # Sketch2 → Cut-Extrude2 (cut, through all)
    with BuildSketch(Plane(origin=(0, 6.35, 0), x_dir=(1, 0, 0), z_dir=(0, 1, 0))):
        with Locations((-10.249101816, 50.8)):
            Rectangle(SKETCH2_W, SKETCH2_H)
        with Locations((58.532549234, 206.375)):
            Rectangle(SKETCH2_W_2, SKETCH2_H_2)
        with Locations((217.282549234, 38.1)):
            Rectangle(SKETCH2_W_3, SKETCH2_H_3)
        with Locations((49.007549234, -104.775)):
            Rectangle(SKETCH2_W_4, SKETCH2_H_2)
    extrude(amount=-CUT_EXTRUDE2_DEPTH, mode=Mode.SUBTRACT)

    # Sketch3 → Cut-Extrude3 (cut, through all)
    with BuildSketch(Plane(origin=(0, 6.35, 0), x_dir=(1, 0, 0), z_dir=(0, 1, 0))):
        with Locations((-93.867450766, 171.45)):
            Rectangle(SKETCH3_W, SKETCH3_H)
        with Locations((-93.867450766, -63.5)):
            Rectangle(SKETCH3_W, SKETCH3_H_2)
    extrude(amount=-CUT_EXTRUDE3_DEPTH, mode=Mode.SUBTRACT)


solid = part.part
